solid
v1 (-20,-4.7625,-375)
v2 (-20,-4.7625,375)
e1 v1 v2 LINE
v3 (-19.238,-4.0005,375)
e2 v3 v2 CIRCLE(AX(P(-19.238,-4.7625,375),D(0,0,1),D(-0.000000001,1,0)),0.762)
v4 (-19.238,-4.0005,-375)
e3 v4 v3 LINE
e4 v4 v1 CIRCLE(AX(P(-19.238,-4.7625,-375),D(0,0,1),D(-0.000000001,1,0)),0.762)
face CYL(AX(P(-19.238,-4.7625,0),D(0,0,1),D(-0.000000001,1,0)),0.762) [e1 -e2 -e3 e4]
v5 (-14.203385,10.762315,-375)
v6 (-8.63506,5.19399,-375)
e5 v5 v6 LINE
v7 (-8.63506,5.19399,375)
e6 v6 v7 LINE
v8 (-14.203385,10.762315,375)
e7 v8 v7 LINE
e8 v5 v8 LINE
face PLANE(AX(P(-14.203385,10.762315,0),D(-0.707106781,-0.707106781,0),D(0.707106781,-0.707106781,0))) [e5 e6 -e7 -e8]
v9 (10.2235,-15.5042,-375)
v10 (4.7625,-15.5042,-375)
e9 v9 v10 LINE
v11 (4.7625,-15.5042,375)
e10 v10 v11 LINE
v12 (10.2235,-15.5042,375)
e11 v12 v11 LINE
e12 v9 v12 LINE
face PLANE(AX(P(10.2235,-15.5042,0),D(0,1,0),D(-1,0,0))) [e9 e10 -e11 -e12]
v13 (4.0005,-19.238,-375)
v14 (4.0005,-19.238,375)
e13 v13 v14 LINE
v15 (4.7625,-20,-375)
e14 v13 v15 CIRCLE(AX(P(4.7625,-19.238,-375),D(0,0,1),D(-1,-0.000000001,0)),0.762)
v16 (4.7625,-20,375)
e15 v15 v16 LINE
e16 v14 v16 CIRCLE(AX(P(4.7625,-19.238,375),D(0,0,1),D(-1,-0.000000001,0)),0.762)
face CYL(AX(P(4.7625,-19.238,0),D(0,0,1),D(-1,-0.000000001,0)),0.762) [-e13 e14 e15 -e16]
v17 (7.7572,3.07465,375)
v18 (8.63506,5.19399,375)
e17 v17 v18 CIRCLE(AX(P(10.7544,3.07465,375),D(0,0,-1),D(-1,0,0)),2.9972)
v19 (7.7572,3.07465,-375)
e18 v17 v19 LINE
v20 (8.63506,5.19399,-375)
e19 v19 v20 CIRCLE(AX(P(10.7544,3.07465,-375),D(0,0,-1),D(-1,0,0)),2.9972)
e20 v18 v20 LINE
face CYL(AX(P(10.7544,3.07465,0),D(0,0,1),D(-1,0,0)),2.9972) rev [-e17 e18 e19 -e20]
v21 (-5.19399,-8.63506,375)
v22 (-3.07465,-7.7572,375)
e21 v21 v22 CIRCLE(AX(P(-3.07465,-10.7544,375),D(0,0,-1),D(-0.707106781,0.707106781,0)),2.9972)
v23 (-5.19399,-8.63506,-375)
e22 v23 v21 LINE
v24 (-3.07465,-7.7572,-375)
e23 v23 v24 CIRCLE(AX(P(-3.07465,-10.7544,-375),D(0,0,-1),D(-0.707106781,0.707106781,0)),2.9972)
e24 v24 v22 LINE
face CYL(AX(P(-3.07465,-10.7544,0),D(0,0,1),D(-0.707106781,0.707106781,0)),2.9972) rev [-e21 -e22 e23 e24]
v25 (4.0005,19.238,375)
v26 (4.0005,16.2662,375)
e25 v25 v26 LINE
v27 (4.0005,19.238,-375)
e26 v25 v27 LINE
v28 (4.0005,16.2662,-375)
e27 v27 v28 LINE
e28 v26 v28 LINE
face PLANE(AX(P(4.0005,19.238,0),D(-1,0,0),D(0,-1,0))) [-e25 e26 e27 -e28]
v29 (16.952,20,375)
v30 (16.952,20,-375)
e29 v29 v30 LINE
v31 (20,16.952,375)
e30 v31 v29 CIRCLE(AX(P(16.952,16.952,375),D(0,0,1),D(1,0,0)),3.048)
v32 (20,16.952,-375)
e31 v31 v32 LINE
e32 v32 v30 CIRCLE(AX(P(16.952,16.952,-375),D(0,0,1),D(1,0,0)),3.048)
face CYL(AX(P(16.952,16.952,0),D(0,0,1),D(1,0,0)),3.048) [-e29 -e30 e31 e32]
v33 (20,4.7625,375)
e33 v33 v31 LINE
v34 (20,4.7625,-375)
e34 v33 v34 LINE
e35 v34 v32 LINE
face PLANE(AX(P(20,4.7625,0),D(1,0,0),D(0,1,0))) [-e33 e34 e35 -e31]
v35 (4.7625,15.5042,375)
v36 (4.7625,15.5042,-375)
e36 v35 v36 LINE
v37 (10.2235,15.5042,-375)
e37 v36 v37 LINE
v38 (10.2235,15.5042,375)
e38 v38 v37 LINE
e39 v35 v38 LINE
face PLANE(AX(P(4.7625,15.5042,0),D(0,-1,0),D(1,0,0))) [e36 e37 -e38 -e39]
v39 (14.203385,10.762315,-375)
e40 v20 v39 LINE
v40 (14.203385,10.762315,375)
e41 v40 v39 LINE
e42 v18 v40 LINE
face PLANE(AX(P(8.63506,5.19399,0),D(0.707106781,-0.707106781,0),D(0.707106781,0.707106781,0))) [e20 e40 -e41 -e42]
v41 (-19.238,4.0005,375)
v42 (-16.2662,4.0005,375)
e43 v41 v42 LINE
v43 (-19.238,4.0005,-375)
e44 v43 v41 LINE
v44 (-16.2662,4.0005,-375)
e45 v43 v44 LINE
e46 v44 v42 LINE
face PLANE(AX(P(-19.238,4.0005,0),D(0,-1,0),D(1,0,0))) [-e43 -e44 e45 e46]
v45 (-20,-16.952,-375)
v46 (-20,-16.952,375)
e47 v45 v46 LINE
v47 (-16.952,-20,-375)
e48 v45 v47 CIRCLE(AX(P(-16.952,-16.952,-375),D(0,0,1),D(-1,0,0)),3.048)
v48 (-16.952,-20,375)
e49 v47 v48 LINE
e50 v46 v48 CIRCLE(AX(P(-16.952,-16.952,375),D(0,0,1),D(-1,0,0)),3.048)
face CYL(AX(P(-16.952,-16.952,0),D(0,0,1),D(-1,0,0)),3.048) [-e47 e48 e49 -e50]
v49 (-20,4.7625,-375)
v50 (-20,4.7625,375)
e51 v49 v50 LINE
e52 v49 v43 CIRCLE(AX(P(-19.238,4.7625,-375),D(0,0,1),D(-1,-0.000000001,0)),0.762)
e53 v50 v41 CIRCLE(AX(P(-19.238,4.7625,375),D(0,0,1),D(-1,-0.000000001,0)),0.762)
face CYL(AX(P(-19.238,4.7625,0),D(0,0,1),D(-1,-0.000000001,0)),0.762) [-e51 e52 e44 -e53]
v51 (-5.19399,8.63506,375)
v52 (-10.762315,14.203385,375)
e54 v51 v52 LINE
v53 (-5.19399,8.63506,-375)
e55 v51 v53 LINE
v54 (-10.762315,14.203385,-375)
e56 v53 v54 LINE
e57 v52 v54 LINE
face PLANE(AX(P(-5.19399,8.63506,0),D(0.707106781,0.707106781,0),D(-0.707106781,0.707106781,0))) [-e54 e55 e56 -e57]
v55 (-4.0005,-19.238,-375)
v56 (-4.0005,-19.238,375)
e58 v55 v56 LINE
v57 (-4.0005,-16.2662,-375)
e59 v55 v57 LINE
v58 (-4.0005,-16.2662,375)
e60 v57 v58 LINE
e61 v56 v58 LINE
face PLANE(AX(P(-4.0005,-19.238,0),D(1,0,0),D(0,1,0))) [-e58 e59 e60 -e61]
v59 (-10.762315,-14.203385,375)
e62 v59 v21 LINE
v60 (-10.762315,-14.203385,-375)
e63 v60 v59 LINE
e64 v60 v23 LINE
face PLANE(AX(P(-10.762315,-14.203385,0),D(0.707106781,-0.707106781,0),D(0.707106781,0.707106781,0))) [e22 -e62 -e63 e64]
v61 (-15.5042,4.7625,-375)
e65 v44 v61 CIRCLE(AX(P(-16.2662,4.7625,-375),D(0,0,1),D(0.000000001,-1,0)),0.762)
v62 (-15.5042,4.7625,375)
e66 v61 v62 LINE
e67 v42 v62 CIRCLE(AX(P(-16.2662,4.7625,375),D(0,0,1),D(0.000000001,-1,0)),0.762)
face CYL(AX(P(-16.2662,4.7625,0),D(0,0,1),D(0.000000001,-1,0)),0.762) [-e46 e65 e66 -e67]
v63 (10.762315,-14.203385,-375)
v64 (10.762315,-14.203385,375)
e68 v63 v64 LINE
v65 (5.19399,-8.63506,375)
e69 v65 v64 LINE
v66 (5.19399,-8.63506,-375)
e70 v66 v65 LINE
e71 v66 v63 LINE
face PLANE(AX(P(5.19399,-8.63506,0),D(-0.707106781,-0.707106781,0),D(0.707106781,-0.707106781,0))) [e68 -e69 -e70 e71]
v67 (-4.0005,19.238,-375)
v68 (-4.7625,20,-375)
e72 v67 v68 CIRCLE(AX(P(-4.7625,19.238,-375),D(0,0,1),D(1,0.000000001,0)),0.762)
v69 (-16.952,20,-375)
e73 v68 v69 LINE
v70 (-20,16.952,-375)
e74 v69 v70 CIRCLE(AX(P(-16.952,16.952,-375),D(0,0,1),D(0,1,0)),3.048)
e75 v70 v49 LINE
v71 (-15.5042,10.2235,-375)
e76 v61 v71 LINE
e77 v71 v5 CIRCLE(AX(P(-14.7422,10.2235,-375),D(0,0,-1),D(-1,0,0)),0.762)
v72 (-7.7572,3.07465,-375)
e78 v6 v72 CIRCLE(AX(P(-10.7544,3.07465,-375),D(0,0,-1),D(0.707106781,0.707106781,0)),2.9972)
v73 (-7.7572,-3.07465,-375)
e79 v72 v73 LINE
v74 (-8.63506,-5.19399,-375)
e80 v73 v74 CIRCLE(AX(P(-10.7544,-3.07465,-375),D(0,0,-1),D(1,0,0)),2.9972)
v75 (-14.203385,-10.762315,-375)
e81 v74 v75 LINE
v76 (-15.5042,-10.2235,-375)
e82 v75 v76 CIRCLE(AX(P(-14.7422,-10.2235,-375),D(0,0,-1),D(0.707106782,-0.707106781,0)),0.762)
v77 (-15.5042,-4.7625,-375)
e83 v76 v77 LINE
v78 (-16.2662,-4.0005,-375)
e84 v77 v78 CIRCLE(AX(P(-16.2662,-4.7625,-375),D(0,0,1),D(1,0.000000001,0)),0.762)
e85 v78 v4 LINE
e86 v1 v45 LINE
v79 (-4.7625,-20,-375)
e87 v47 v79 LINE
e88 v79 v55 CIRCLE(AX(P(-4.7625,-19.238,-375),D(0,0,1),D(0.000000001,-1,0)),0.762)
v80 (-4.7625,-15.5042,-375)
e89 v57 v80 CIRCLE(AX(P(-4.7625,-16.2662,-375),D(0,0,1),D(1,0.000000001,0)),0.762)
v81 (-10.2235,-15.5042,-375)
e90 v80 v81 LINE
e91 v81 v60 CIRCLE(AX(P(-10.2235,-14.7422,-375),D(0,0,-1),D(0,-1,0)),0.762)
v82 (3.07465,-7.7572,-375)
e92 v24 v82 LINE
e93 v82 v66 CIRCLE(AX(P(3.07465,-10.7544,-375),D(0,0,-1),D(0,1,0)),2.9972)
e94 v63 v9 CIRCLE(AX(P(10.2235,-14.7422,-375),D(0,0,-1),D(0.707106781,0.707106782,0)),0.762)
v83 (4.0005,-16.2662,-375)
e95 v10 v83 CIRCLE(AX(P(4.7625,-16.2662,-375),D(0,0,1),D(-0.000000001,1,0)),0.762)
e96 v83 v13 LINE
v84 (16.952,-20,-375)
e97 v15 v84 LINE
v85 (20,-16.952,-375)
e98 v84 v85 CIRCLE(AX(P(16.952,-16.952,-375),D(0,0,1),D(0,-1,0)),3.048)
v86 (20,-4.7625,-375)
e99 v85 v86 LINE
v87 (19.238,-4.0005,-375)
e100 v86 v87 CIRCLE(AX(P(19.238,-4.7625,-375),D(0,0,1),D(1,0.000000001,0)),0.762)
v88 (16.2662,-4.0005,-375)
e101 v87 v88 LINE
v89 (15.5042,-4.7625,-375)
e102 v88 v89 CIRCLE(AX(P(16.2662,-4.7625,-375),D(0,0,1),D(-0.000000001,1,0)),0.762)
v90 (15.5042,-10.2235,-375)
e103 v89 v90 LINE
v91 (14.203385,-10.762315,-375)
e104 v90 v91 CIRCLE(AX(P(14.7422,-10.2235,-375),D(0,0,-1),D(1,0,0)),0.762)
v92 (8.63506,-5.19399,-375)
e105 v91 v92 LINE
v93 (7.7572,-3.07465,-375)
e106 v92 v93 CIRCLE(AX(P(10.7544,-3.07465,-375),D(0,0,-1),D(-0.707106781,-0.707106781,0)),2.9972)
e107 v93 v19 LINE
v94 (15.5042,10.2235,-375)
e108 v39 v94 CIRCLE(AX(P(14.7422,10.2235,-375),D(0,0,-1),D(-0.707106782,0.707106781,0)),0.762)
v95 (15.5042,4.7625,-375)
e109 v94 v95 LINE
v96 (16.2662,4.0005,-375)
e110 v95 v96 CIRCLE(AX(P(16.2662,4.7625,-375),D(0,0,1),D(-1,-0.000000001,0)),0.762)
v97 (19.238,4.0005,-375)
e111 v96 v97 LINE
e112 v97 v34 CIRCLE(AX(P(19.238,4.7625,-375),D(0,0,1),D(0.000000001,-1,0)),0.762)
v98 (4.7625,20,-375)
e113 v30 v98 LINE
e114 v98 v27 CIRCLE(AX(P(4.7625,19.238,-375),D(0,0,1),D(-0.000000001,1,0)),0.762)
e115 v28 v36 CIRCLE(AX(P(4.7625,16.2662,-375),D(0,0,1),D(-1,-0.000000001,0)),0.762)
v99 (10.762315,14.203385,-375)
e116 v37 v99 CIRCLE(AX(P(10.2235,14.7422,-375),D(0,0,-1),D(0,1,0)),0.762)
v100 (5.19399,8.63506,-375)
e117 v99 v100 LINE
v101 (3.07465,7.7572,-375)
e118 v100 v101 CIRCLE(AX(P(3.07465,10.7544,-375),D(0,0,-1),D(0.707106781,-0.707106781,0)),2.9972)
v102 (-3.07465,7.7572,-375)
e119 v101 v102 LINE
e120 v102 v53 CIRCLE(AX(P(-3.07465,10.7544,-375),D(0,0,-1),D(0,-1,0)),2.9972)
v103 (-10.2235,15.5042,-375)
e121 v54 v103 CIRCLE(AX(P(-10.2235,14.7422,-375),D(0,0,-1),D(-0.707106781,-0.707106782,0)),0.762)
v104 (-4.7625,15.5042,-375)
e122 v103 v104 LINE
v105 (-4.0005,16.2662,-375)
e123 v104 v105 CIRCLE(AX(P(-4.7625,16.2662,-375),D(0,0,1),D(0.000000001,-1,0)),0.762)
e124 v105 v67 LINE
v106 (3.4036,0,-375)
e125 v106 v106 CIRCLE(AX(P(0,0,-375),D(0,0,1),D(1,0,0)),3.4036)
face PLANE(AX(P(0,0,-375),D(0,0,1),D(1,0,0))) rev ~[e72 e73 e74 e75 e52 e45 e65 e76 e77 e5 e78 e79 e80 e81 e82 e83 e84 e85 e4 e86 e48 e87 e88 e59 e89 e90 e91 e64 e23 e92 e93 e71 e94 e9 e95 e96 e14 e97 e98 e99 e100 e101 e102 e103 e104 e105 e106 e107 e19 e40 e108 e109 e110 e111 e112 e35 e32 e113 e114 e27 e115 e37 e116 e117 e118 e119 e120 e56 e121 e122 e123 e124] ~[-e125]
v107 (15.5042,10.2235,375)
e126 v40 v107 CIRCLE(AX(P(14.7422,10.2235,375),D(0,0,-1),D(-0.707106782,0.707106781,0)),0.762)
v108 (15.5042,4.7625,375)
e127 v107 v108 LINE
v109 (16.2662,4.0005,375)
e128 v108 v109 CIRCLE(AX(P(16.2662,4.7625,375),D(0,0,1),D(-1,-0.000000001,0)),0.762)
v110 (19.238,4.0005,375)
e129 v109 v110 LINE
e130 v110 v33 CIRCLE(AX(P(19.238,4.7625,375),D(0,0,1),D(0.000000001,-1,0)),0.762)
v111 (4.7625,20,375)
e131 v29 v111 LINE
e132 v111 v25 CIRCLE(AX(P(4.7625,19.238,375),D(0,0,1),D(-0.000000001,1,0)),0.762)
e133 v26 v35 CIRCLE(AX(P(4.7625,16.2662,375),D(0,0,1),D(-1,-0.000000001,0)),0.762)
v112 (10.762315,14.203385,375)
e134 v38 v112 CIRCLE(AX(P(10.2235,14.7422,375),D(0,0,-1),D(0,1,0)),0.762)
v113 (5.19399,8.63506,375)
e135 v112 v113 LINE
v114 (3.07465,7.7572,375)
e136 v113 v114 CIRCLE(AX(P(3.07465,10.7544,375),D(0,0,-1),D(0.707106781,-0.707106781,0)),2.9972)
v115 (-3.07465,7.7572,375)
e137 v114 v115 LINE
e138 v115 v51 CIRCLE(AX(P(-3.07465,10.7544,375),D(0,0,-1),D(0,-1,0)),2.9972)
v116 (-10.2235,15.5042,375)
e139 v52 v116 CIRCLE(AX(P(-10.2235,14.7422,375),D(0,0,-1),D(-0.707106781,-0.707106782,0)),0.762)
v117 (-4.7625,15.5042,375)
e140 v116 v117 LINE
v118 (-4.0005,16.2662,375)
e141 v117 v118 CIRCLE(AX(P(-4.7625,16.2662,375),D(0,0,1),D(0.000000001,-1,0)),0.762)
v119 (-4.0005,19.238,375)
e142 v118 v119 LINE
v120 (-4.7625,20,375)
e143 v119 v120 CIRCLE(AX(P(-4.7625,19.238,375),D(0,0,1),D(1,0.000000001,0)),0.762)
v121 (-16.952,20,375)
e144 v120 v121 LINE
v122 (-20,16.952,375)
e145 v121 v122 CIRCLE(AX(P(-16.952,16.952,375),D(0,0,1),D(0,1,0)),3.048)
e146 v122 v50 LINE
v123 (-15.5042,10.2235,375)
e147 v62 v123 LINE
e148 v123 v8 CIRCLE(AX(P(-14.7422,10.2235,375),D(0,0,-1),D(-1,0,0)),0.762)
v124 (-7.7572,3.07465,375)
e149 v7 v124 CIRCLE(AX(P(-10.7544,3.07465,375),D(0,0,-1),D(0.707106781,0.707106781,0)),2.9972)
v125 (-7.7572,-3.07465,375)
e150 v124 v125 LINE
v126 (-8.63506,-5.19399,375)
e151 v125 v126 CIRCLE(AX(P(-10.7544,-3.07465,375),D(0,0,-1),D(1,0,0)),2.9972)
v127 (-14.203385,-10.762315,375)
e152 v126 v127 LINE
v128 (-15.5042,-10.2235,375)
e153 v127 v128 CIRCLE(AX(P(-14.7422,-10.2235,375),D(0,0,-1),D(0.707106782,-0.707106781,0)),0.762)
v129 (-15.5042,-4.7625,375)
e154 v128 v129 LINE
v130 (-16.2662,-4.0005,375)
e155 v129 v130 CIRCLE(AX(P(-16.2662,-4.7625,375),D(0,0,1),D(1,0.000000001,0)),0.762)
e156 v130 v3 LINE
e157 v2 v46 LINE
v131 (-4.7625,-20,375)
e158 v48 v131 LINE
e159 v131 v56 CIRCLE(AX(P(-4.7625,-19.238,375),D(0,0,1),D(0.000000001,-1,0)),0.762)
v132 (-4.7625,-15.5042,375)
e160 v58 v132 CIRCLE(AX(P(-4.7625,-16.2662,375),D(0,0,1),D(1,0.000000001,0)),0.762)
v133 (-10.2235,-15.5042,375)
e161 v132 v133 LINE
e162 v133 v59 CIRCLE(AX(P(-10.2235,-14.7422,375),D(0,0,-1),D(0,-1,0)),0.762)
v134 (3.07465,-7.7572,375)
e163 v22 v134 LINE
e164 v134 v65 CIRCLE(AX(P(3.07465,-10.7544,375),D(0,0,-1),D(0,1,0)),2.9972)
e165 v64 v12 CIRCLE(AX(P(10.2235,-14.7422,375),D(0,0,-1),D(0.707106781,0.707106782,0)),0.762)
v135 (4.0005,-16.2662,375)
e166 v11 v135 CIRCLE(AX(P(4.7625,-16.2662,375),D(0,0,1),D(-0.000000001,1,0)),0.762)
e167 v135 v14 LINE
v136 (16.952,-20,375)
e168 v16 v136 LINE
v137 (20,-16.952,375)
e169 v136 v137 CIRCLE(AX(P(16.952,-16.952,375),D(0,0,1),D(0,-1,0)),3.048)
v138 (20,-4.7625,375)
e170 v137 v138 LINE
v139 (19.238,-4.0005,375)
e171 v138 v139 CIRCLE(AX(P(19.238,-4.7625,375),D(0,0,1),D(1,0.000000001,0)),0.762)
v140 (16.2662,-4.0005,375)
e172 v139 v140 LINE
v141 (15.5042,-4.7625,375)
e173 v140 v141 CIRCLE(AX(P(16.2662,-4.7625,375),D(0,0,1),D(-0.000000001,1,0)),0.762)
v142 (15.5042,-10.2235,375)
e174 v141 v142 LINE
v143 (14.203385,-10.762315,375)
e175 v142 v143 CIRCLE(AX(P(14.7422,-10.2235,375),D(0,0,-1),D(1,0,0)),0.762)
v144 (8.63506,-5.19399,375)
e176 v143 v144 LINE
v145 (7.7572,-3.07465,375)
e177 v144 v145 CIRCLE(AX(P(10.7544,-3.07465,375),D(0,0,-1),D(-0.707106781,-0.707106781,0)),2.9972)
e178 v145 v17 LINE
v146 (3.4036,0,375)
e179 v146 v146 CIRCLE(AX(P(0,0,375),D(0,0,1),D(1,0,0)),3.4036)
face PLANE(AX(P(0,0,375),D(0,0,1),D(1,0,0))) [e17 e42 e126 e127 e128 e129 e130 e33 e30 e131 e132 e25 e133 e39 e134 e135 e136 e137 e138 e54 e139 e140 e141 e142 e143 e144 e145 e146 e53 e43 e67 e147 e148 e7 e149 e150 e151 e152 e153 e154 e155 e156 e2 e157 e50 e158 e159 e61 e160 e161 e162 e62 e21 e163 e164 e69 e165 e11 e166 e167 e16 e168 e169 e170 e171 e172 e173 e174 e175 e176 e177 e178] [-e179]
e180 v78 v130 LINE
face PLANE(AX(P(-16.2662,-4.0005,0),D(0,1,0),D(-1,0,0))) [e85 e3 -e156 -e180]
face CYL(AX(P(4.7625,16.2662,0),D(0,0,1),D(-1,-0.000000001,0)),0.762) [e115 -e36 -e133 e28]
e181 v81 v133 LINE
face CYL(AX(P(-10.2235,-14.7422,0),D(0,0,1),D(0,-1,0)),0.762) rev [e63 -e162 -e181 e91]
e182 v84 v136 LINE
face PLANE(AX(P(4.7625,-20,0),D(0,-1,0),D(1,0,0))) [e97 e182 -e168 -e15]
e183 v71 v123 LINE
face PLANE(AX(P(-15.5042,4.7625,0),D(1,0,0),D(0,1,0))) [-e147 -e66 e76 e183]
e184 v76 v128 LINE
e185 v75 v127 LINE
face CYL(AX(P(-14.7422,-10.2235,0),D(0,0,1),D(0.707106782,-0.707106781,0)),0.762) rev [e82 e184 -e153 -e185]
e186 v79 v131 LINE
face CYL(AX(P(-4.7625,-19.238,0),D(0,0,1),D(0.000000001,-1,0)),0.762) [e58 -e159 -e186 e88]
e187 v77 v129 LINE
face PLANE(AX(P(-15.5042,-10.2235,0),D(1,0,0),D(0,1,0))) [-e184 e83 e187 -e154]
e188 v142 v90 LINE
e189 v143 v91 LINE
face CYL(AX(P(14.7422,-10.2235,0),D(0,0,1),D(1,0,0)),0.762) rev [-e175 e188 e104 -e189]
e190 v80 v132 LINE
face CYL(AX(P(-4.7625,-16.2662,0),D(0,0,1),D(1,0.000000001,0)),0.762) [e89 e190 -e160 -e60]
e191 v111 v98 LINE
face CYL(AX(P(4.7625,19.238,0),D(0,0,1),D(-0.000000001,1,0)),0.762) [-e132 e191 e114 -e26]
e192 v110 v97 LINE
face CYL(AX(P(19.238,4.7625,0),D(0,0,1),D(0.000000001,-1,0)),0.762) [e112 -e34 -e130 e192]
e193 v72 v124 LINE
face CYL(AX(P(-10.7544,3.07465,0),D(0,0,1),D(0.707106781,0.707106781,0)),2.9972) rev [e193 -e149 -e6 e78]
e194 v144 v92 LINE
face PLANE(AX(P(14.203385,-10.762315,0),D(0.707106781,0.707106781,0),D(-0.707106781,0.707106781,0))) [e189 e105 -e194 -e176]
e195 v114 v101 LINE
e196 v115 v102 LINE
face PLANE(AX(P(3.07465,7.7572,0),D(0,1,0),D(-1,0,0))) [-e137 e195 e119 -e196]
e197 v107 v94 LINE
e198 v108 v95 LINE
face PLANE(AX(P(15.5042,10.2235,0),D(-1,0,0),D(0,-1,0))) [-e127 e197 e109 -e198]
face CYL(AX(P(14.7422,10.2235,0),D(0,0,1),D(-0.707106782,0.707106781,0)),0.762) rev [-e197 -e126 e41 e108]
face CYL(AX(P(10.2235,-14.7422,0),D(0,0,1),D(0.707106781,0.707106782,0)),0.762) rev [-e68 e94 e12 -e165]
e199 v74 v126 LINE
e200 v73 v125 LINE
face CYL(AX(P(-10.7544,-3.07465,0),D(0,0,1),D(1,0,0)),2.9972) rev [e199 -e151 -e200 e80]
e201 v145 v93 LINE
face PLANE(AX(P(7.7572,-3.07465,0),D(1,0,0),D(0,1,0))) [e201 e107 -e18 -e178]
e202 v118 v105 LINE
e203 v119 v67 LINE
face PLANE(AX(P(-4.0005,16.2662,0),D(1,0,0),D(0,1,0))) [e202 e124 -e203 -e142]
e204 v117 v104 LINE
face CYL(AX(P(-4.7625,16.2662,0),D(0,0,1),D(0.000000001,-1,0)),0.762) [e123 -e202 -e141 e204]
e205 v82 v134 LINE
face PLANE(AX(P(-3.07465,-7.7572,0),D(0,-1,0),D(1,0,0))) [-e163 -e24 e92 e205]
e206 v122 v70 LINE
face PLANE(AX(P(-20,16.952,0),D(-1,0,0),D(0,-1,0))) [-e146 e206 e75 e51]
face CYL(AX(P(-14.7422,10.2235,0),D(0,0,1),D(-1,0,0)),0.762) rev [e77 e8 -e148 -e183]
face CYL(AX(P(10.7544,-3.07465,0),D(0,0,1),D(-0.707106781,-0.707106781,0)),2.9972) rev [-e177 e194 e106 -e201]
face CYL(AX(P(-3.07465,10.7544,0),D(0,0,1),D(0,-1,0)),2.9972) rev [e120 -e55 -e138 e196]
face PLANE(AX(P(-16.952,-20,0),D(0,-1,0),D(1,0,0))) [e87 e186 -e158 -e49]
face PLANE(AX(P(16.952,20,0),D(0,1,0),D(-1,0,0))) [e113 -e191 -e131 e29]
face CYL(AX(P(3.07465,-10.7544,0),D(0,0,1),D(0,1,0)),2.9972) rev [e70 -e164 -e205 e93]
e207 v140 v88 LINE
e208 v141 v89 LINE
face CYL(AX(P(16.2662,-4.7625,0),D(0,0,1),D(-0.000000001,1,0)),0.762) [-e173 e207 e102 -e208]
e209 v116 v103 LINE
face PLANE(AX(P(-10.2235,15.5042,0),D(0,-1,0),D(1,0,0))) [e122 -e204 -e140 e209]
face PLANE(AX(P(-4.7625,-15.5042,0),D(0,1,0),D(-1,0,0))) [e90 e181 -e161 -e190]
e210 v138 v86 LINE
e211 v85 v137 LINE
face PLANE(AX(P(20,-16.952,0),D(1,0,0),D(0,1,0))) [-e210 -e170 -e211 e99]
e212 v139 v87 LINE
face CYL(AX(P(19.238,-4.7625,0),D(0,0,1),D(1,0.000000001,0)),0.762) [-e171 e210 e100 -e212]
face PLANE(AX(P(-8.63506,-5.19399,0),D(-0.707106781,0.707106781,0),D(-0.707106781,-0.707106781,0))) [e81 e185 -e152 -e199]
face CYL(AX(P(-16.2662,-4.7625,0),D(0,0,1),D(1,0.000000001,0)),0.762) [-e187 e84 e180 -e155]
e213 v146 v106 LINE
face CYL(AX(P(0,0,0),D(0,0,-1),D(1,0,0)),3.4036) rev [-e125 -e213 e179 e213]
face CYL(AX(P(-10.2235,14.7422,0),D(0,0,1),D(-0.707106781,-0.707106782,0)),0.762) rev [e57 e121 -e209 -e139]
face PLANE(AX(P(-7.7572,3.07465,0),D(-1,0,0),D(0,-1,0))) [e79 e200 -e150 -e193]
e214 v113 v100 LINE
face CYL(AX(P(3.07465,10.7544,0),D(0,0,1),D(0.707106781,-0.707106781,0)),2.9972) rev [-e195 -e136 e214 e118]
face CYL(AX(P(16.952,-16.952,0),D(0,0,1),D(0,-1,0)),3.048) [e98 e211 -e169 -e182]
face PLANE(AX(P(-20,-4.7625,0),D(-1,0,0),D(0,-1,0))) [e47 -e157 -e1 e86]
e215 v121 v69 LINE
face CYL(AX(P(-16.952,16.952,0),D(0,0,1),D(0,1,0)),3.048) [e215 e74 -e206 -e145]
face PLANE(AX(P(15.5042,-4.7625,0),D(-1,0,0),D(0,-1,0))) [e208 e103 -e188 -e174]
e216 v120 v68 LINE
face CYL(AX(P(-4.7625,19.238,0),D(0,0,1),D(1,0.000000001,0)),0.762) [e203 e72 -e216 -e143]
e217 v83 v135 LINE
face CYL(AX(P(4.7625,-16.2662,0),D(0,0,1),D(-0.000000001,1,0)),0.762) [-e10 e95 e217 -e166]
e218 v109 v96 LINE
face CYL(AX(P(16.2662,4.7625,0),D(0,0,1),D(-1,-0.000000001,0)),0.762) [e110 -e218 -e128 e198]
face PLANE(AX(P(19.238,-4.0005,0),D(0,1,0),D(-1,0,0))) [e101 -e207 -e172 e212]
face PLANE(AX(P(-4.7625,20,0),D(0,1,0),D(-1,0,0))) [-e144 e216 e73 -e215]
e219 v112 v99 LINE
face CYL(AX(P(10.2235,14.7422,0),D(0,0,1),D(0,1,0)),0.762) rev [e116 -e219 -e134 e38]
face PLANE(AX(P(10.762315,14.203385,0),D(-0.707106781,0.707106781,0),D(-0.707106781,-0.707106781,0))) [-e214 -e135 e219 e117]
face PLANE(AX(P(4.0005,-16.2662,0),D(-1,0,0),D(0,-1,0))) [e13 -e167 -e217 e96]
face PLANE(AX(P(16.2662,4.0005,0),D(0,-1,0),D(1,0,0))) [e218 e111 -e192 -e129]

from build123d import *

# Parameters (mm, degrees)
SKETCH1_R           = 3.4036
BOSS_EXTRUDE1_DEPTH = 375


with BuildPart() as part:
    # Sketch1 → Boss-Extrude1 (new body, symmetric)
    with BuildSketch(Plane.XY):
        with BuildLine():
            Line((-20, 16.952), (-20, 4.7625))
            ThreePointArc((-20, 4.7625), (-19.776815367, 4.223684633), (-19.238, 4.0005))
            Line((-19.238, 4.0005), (-16.2662, 4.0005))
            ThreePointArc((-16.2662, 4.0005), (-15.727384633, 4.223684633), (-15.5042, 4.7625))
            Line((-15.5042, 4.7625), (-15.5042, 10.2235))
            ThreePointArc((-15.5042, 10.2235), (-15.033804775, 10.927496204), (-14.203384633, 10.762315367))
            Line((-14.203384633, 10.762315367), (-8.635059555, 5.19399029))
            ThreePointArc((-8.635059555, 5.19399029), (-7.985348265, 4.221628629), (-7.7572, 3.074649845))
            Line((-7.7572, 3.074649845), (-7.7572, -3.074649845))
            ThreePointArc((-7.7572, -3.074649845), (-7.985348265, -4.221628629), (-8.635059555, -5.19399029))
            Line((-8.635059555, -5.19399029), (-14.203384633, -10.762315367))
            ThreePointArc((-14.203384633, -10.762315367), (-15.033804775, -10.927496204), (-15.5042, -10.2235))
            Line((-15.5042, -10.2235), (-15.5042, -4.7625))
            ThreePointArc((-15.5042, -4.7625), (-15.727384633, -4.223684633), (-16.2662, -4.0005))
            Line((-16.2662, -4.0005), (-19.238, -4.0005))
            ThreePointArc((-19.238, -4.0005), (-19.776815367, -4.223684633), (-20, -4.7625))
            Line((-20, -4.7625), (-20, -16.952))
            ThreePointArc((-20, -16.952), (-19.107261469, -19.107261469), (-16.952, -20))
            Line((-16.952, -20), (-4.7625, -20))
            ThreePointArc((-4.7625, -20), (-4.223684633, -19.776815367), (-4.0005, -19.238))
            Line((-4.0005, -19.238), (-4.0005, -16.2662))
            ThreePointArc((-4.0005, -16.2662), (-4.223684633, -15.727384633), (-4.7625, -15.5042))
            Line((-4.7625, -15.5042), (-10.2235, -15.5042))
            ThreePointArc((-10.2235, -15.5042), (-10.927496204, -15.033804775), (-10.762315367, -14.203384633))
            Line((-10.762315367, -14.203384633), (-5.19399029, -8.635059555))
            ThreePointArc((-5.19399029, -8.635059555), (-4.221628629, -7.985348265), (-3.074649845, -7.7572))
            Line((-3.074649845, -7.7572), (3.074649845, -7.7572))
            ThreePointArc((3.074649845, -7.7572), (4.221628629, -7.985348265), (5.19399029, -8.635059555))
            Line((5.19399029, -8.635059555), (10.762315367, -14.203384633))
            ThreePointArc((10.762315367, -14.203384633), (10.927496204, -15.033804775), (10.2235, -15.5042))
            Line((10.2235, -15.5042), (4.7625, -15.5042))
            ThreePointArc((4.7625, -15.5042), (4.223684633, -15.727384633), (4.0005, -16.2662))
            Line((4.0005, -16.2662), (4.0005, -19.238))
            ThreePointArc((4.0005, -19.238), (4.223684633, -19.776815367), (4.7625, -20))
            Line((4.7625, -20), (16.952, -20))
            ThreePointArc((16.952, -20), (19.107261469, -19.107261469), (20, -16.952))
            Line((20, -16.952), (20, -4.7625))
            ThreePointArc((20, -4.7625), (19.776815367, -4.223684633), (19.238, -4.0005))
            Line((19.238, -4.0005), (16.2662, -4.0005))
            ThreePointArc((16.2662, -4.0005), (15.727384633, -4.223684633), (15.5042, -4.7625))
            Line((15.5042, -4.7625), (15.5042, -10.2235))
            ThreePointArc((15.5042, -10.2235), (15.033804775, -10.927496204), (14.203384633, -10.762315367))
            Line((14.203384633, -10.762315367), (8.635059555, -5.19399029))
            ThreePointArc((8.635059555, -5.19399029), (7.985348265, -4.221628629), (7.7572, -3.074649845))
            Line((7.7572, -3.074649845), (7.7572, 3.074649845))
            ThreePointArc((7.7572, 3.074649845), (7.985348265, 4.221628629), (8.635059555, 5.19399029))
            Line((8.635059555, 5.19399029), (14.203384633, 10.762315367))
            ThreePointArc((14.203384633, 10.762315367), (15.033804775, 10.927496204), (15.5042, 10.2235))
            Line((15.5042, 10.2235), (15.5042, 4.7625))
            ThreePointArc((15.5042, 4.7625), (15.727384633, 4.223684633), (16.2662, 4.0005))
            Line((16.2662, 4.0005), (19.238, 4.0005))
            ThreePointArc((19.238, 4.0005), (19.776815367, 4.223684633), (20, 4.7625))
            Line((20, 4.7625), (20, 16.952))
            ThreePointArc((20, 16.952), (19.107261469, 19.107261469), (16.952, 20))
            Line((16.952, 20), (4.7625, 20))
            ThreePointArc((4.7625, 20), (4.223684633, 19.776815367), (4.0005, 19.238))
            Line((4.0005, 19.238), (4.0005, 16.2662))
            ThreePointArc((4.0005, 16.2662), (4.223684633, 15.727384633), (4.7625, 15.5042))
            Line((4.7625, 15.5042), (10.2235, 15.5042))
            ThreePointArc((10.2235, 15.5042), (10.927496204, 15.033804775), (10.762315367, 14.203384633))
            Line((10.762315367, 14.203384633), (5.19399029, 8.635059555))
            ThreePointArc((5.19399029, 8.635059555), (4.221628629, 7.985348265), (3.074649845, 7.7572))
            Line((3.074649845, 7.7572), (-3.074649845, 7.7572))
            ThreePointArc((-3.074649845, 7.7572), (-4.221628629, 7.985348265), (-5.19399029, 8.635059555))
            Line((-5.19399029, 8.635059555), (-10.762315367, 14.203384633))
            ThreePointArc((-10.762315367, 14.203384633), (-10.927496204, 15.033804775), (-10.2235, 15.5042))
            Line((-10.2235, 15.5042), (-4.7625, 15.5042))
            ThreePointArc((-4.7625, 15.5042), (-4.223684633, 15.727384633), (-4.0005, 16.2662))
            Line((-4.0005, 16.2662), (-4.0005, 19.238))
            ThreePointArc((-4.0005, 19.238), (-4.223684633, 19.776815367), (-4.7625, 20))
            Line((-4.7625, 20), (-16.952, 20))
            ThreePointArc((-16.952, 20), (-19.107261469, 19.107261469), (-20, 16.952))
        make_face()
        Circle(SKETCH1_R, mode=Mode.SUBTRACT)
    extrude(amount=BOSS_EXTRUDE1_DEPTH, both=True)


solid = part.part
